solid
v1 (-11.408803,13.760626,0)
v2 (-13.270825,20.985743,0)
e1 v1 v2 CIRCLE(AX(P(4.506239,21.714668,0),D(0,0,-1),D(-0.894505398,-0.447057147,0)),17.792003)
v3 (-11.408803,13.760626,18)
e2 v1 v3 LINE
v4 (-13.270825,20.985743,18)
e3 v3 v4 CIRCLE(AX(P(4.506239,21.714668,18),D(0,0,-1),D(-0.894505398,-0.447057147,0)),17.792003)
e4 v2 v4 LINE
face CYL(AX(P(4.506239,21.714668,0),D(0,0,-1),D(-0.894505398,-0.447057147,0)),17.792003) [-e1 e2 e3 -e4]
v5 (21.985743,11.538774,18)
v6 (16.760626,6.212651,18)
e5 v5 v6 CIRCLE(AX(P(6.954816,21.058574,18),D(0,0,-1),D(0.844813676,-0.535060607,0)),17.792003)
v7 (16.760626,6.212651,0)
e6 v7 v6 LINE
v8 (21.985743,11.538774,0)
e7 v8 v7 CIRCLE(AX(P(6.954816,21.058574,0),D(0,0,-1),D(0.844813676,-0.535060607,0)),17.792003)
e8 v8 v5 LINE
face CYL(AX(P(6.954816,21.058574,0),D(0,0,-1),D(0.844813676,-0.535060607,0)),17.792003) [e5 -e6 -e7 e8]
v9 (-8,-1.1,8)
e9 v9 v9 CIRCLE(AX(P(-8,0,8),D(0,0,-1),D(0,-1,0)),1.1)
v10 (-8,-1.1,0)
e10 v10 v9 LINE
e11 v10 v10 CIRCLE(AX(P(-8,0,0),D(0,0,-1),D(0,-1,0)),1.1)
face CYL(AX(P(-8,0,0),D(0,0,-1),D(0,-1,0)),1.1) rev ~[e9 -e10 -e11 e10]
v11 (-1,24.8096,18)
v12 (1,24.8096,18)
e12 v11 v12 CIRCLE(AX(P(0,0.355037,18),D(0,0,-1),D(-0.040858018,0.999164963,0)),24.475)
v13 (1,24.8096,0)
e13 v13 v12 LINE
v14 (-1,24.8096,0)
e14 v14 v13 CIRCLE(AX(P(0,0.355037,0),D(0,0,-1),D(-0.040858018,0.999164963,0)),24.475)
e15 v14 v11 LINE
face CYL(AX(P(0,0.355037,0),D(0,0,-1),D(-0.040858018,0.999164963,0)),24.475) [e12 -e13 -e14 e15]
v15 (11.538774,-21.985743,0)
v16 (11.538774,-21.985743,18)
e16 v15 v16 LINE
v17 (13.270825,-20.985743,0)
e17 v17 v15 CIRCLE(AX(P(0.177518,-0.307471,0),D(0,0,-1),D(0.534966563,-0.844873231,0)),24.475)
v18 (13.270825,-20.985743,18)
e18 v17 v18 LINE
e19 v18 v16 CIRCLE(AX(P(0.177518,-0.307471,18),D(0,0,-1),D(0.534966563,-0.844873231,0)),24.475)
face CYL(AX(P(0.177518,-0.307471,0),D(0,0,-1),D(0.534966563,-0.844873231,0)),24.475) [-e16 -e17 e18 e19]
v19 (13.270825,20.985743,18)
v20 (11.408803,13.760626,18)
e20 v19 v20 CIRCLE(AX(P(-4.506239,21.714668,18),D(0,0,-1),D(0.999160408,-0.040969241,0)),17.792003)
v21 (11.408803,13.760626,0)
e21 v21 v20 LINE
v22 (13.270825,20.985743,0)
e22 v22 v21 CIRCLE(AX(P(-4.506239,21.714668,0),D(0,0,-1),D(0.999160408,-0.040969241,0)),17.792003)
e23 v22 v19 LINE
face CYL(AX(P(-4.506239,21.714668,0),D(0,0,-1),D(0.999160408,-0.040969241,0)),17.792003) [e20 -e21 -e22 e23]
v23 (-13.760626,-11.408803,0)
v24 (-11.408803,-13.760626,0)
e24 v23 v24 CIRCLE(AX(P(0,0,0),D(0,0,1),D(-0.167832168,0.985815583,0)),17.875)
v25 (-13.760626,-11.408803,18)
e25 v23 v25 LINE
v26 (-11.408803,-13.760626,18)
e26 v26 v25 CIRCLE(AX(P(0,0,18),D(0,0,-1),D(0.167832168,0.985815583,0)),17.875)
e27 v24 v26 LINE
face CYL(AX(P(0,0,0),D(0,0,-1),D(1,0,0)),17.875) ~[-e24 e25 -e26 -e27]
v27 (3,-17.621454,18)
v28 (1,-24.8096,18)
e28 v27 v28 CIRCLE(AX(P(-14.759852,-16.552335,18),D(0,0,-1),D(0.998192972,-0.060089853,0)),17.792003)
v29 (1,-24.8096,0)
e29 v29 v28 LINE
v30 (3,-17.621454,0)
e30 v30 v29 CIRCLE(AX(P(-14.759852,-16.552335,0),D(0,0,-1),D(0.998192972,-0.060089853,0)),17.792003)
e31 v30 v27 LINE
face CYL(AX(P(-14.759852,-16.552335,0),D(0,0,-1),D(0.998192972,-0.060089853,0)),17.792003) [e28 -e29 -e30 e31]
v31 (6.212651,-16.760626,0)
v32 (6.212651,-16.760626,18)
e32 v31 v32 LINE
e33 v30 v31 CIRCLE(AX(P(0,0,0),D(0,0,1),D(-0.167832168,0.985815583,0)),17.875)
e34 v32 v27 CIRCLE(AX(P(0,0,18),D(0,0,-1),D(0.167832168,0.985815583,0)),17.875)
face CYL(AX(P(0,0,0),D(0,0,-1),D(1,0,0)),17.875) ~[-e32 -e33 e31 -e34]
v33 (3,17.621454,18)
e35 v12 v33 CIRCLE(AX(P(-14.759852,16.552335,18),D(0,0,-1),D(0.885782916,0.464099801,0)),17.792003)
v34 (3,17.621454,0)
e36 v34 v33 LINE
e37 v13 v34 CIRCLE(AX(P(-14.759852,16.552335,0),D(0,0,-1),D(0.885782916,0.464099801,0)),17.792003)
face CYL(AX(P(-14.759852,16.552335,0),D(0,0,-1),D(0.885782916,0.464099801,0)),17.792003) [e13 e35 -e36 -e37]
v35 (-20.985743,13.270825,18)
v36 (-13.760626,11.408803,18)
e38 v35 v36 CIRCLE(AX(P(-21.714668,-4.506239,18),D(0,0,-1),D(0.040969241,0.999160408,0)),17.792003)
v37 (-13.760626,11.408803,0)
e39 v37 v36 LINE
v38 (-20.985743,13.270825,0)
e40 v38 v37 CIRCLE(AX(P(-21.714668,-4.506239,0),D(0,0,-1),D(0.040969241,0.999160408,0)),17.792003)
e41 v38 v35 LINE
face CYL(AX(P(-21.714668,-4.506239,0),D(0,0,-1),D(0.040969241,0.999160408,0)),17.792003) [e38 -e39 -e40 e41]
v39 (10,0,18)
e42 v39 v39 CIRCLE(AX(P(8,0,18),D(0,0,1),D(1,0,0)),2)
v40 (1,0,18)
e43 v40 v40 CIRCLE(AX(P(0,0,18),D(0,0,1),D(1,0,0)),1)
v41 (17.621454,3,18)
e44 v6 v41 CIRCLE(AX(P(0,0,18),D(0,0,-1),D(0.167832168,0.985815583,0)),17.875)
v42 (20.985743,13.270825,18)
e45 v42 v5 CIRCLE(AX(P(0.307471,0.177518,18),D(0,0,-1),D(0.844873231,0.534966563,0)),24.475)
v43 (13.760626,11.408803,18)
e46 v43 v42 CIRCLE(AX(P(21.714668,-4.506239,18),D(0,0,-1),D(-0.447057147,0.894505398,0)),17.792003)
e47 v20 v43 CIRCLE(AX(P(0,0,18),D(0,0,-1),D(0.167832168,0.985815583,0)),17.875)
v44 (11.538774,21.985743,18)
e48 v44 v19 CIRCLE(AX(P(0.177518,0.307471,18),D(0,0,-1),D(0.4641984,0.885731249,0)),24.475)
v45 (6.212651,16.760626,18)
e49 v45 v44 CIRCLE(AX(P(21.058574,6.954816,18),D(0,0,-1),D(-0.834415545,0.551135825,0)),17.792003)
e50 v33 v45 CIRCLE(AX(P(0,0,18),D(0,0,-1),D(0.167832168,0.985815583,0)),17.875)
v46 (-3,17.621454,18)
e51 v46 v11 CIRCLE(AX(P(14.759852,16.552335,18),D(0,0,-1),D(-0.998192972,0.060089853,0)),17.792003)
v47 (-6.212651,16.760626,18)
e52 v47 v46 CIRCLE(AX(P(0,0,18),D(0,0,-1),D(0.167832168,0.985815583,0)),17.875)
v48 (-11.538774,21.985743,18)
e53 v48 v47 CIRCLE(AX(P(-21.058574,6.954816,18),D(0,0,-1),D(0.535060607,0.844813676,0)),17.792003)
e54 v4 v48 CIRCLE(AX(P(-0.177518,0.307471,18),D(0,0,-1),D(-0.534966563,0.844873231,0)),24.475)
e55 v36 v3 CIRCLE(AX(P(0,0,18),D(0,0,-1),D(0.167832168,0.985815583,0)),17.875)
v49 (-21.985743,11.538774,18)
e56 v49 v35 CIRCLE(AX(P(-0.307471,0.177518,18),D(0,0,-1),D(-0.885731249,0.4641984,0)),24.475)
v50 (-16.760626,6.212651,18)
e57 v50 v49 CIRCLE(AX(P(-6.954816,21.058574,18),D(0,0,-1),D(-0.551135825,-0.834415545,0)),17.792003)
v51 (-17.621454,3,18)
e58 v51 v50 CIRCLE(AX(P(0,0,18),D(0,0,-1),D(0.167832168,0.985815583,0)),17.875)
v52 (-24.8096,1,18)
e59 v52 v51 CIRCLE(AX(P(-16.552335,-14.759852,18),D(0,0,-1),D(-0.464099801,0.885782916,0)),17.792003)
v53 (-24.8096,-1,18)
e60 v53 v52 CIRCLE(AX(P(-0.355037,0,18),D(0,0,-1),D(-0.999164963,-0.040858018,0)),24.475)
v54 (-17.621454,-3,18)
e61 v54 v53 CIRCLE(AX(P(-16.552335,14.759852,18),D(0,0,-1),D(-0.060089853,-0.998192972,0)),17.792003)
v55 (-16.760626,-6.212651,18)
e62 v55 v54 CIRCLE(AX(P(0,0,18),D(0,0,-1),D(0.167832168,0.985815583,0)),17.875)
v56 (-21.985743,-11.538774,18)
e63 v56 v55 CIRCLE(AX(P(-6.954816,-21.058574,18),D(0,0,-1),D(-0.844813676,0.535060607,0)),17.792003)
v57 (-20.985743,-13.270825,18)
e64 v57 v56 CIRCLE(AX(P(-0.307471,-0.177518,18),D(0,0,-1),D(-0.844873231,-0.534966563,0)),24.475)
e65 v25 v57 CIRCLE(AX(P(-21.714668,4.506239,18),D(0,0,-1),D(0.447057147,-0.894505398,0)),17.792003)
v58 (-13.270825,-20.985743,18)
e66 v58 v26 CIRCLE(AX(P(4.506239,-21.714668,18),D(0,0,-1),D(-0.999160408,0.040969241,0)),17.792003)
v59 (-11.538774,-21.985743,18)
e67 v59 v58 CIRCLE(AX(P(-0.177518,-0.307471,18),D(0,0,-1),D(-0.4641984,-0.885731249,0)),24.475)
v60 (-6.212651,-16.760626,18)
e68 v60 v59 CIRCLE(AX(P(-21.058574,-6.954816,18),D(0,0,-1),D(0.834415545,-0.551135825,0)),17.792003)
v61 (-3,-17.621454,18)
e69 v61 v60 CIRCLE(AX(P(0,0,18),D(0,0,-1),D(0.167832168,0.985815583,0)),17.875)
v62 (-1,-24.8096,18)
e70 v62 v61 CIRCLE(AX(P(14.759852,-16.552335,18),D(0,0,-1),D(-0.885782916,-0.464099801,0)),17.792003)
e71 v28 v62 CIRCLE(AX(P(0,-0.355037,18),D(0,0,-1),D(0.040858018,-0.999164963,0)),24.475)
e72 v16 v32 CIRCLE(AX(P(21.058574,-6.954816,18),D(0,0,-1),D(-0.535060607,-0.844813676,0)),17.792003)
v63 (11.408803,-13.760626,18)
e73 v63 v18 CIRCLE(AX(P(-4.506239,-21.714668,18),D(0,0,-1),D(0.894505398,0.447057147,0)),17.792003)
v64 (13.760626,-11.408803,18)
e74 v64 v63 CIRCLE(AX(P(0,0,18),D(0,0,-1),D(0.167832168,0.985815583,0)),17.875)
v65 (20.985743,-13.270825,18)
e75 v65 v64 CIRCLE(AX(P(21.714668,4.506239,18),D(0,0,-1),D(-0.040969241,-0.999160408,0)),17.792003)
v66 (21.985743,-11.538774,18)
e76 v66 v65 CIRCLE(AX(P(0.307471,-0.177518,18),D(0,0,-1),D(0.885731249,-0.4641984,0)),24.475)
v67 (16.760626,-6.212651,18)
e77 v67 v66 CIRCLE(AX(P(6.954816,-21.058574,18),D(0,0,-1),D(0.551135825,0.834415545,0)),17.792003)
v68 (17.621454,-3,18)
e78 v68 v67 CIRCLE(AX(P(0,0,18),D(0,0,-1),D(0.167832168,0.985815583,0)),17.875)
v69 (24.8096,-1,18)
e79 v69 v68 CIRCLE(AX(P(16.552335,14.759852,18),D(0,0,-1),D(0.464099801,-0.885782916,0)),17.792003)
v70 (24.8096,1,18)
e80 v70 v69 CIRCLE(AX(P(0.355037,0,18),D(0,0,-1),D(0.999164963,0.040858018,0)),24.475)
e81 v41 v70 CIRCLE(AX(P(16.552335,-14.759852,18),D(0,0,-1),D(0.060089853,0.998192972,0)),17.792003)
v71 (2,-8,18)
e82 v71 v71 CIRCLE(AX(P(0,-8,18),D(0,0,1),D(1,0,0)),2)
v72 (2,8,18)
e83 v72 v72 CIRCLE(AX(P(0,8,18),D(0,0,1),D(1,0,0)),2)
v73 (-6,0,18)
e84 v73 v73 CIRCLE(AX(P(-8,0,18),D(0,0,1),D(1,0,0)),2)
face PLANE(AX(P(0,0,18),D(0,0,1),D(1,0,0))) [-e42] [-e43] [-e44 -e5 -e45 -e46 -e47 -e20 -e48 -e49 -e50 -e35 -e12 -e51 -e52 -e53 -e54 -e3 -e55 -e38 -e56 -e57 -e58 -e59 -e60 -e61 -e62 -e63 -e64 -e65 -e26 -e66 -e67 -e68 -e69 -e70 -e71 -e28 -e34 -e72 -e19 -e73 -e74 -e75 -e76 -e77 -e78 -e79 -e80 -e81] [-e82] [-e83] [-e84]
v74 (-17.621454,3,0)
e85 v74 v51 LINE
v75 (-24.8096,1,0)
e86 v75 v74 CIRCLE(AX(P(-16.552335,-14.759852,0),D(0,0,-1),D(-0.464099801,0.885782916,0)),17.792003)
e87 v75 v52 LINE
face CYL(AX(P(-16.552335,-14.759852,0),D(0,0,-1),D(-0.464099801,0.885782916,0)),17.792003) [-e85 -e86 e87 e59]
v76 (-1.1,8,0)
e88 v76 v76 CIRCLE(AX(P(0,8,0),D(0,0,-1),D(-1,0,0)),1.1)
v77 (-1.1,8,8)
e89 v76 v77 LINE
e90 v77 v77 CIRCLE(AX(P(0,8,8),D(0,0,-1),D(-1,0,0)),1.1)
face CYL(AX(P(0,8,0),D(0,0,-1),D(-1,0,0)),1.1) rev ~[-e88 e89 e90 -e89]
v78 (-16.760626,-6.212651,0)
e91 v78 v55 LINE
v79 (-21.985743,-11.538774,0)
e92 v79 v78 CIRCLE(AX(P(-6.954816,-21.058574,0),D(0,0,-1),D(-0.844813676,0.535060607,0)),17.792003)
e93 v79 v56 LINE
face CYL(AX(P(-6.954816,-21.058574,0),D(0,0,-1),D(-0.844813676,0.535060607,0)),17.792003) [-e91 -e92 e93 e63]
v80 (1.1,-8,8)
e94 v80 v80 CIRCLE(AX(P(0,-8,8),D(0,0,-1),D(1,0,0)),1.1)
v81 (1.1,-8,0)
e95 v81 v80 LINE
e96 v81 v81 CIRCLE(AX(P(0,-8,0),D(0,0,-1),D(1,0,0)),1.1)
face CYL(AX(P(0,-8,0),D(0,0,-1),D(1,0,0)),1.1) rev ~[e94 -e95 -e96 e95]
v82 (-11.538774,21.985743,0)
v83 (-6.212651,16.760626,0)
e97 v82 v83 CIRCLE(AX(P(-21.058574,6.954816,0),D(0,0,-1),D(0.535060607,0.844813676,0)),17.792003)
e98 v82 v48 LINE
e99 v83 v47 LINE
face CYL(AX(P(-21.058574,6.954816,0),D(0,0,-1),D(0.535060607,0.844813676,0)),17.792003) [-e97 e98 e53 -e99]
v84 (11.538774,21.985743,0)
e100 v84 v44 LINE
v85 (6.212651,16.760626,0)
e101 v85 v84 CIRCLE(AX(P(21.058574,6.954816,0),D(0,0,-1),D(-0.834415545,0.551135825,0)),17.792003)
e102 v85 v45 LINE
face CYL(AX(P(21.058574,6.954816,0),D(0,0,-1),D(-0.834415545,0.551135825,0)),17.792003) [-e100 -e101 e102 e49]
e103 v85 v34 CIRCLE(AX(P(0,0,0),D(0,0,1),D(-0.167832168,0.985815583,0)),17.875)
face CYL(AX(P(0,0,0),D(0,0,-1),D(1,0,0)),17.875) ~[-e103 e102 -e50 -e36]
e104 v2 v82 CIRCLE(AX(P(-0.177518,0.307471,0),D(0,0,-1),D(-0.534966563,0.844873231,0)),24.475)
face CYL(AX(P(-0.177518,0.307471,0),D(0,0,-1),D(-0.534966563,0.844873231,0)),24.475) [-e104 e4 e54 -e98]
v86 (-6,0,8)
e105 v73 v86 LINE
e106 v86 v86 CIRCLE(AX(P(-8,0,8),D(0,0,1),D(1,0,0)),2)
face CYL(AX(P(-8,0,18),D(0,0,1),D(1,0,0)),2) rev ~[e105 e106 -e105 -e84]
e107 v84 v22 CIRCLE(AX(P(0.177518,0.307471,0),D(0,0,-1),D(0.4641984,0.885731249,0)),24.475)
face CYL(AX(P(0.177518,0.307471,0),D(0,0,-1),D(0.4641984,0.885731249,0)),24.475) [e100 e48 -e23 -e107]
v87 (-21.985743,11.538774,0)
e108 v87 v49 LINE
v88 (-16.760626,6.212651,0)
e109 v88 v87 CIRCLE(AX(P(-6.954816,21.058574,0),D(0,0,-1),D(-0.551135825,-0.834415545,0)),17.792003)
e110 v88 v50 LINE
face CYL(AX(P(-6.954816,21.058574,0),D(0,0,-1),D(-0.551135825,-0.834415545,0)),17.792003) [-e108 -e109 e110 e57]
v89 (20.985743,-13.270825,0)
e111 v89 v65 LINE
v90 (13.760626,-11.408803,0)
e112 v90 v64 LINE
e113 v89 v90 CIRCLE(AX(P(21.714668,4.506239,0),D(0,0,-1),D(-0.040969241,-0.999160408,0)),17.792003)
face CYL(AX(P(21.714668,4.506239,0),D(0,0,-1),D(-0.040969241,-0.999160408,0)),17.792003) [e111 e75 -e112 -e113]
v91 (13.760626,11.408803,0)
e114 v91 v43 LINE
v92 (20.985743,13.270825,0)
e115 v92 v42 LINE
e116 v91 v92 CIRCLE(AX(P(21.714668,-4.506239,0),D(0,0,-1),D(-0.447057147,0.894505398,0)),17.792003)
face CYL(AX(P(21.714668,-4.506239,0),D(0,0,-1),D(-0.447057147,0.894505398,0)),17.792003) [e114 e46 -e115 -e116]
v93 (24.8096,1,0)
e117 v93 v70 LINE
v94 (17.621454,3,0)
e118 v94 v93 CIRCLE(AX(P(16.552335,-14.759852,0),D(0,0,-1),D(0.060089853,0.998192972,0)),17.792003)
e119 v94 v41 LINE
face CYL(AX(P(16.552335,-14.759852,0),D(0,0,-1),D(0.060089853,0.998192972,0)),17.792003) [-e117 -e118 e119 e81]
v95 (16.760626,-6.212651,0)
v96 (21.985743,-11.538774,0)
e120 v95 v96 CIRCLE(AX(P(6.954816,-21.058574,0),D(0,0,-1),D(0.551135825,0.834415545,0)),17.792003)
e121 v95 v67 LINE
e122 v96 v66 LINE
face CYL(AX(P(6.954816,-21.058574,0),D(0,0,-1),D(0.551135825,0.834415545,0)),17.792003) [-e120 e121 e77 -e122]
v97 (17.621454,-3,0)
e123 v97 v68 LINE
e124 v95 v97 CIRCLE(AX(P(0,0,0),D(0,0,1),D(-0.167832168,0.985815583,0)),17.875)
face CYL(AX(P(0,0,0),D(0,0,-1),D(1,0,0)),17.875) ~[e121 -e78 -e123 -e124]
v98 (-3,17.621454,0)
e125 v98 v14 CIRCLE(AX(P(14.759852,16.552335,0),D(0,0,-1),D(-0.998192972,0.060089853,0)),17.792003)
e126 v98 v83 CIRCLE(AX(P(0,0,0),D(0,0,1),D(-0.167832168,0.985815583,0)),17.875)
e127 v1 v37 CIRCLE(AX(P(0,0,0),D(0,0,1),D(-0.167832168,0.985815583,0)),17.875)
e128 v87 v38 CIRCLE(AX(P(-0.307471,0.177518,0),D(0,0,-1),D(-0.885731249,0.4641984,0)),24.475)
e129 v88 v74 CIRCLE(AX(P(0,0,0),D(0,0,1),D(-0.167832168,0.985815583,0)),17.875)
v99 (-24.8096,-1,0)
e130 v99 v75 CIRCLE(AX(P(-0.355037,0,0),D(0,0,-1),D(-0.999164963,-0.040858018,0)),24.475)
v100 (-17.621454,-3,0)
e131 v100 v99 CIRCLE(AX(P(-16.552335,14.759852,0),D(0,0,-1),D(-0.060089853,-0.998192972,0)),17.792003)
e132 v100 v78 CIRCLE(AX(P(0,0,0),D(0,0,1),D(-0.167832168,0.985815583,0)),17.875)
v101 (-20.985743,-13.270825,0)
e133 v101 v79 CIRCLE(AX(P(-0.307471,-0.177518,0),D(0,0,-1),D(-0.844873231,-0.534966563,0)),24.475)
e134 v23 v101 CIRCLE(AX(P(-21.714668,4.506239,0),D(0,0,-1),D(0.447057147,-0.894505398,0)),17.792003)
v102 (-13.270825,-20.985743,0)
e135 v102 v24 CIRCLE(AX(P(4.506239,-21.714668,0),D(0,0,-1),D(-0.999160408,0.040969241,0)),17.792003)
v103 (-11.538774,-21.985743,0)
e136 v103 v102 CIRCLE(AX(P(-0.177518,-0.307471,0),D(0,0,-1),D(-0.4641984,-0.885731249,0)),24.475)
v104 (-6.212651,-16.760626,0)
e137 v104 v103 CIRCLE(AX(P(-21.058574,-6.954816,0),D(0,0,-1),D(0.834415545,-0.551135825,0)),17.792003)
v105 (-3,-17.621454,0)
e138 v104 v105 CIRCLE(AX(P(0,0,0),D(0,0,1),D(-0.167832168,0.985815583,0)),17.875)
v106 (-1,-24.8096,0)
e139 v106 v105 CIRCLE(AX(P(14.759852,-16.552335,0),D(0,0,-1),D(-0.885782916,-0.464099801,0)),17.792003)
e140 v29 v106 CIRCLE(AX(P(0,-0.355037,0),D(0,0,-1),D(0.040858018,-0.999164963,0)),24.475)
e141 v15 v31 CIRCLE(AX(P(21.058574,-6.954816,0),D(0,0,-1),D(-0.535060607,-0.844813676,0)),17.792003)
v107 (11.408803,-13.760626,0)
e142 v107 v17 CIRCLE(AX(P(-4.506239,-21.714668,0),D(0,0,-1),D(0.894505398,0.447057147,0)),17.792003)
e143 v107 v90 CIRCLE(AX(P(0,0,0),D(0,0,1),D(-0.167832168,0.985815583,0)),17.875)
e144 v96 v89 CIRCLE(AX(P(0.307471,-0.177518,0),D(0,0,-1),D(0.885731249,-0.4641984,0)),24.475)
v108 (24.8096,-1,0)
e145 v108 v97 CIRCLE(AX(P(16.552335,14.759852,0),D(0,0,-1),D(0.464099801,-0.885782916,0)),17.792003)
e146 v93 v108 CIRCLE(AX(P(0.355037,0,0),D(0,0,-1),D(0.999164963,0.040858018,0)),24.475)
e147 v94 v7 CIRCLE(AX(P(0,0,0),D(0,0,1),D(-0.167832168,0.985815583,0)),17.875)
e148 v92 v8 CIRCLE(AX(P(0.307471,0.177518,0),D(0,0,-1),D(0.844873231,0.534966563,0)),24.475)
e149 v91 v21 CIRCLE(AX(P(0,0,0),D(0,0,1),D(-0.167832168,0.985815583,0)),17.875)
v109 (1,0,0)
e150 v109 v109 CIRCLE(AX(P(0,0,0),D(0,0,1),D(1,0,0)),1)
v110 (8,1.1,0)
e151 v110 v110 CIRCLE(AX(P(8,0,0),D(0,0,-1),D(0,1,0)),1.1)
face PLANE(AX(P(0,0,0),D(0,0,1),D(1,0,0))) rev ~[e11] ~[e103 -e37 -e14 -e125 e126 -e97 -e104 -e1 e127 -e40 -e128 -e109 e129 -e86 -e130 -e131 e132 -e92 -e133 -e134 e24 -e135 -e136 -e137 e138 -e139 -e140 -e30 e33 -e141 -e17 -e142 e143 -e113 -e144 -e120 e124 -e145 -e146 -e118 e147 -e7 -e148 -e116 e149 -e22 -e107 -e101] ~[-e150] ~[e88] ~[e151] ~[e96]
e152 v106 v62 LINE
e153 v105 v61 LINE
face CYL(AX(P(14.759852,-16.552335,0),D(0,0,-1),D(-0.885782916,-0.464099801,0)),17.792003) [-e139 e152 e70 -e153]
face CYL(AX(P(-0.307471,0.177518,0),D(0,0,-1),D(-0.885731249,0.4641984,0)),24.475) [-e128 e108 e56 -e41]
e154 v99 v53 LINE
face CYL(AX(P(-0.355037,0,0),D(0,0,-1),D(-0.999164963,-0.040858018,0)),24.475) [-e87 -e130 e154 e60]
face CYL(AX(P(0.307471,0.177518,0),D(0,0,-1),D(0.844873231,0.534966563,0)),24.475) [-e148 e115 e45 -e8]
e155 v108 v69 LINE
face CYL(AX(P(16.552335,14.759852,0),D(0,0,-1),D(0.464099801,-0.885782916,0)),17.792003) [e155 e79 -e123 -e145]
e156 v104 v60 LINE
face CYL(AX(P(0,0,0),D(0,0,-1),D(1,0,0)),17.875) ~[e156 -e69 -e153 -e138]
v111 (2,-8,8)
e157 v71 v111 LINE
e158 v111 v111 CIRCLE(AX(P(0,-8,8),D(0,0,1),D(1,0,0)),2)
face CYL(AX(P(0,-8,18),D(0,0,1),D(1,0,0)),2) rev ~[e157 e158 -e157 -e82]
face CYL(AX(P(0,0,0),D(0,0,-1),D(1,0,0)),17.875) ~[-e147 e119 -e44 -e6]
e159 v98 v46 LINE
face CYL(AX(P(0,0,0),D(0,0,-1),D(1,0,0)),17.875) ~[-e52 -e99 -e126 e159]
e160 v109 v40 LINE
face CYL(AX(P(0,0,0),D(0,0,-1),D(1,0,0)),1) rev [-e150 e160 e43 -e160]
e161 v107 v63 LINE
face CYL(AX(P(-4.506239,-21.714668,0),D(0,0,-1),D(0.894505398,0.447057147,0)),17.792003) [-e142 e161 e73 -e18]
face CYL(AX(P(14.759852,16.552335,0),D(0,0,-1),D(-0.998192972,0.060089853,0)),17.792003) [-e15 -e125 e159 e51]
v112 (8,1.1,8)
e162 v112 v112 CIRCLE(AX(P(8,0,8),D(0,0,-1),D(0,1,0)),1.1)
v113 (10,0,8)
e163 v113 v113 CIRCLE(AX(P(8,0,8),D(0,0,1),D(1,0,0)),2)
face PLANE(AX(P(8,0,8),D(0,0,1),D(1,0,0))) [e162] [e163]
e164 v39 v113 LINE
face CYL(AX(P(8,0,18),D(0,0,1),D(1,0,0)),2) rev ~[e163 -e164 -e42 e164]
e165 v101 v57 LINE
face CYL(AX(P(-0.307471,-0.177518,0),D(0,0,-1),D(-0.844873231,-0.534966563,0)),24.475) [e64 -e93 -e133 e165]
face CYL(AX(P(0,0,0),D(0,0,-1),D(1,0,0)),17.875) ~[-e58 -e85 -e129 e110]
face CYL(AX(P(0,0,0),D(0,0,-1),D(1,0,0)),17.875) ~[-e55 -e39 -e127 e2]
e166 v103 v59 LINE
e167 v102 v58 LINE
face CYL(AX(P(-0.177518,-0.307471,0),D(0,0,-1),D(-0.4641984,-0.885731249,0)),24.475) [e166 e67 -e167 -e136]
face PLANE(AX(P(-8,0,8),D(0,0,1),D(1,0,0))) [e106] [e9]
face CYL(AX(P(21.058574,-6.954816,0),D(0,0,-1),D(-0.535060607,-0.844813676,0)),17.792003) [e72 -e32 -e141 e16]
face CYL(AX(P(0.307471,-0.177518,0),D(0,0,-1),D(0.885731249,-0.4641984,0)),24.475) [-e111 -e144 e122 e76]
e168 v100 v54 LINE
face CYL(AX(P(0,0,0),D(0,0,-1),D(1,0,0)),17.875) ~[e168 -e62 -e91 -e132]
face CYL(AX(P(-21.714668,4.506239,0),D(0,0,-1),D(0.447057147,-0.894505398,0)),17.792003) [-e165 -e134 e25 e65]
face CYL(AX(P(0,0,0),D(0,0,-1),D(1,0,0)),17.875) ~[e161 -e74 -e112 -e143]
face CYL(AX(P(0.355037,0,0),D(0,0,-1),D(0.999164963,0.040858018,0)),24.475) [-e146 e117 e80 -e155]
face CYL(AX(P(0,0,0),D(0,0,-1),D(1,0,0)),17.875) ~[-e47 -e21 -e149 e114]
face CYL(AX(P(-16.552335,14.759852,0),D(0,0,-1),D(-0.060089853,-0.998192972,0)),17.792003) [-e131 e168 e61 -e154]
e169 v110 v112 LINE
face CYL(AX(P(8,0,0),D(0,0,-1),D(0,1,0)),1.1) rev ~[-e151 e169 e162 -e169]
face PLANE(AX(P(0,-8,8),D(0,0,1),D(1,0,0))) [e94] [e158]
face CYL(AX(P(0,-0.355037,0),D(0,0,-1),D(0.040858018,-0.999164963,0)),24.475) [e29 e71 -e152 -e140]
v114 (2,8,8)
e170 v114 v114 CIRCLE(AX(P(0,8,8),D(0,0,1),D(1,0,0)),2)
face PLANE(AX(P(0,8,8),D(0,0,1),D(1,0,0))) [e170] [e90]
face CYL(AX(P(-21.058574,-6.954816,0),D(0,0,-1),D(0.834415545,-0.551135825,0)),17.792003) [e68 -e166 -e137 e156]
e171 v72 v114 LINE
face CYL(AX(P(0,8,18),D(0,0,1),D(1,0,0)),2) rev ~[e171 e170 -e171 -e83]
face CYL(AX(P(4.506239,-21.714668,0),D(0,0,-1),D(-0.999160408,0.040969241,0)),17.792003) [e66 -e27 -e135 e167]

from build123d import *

# Parameters (mm, degrees)
EXTRUDE_1_DEPTH          = 18
SKETCH_2_R               = 17.875
SKETCH_2_R_2             = 1
EXTRUDE_2_DEPTH          = 18
PATTERN_CIRCULAR_3_COUNT = 12
SKETCH_3_R               = 1.1
CUT_EXTRUDE_1_DEPTH      = 19
PATTERN_CIRCULAR_4_COUNT = 4
SKETCH_4_R               = 2
CUT_EXTRUDE_2_DEPTH      = 10


with BuildPart() as part:
    # 草图1 → 凸台-拉伸1 (new body)
    with BuildSketch(Plane.XY):
        with BuildLine():
            ThreePointArc((3, 17.621453544), (0, 17.875), (-3, 17.621453544))
            ThreePointArc((-3, 17.621453544), (-2.381034791, 21.321544102), (-1, 24.809599575))
            ThreePointArc((-1, 24.809599575), (0, 24.830037117), (1, 24.809599575))
            ThreePointArc((1, 24.809599575), (2.381034791, 21.321544102), (3, 17.621453544))
        make_face()
    extrude_1 = extrude(amount=EXTRUDE_1_DEPTH)

    # 草图2 → 凸台-拉伸2 (add)
    with BuildSketch(Plane.XY):
        Circle(SKETCH_2_R)
        Circle(SKETCH_2_R_2, mode=Mode.SUBTRACT)
    extrude(amount=EXTRUDE_2_DEPTH)

    # 阵列(圆周)3: 凸台-拉伸1 ×12 about axis
    pattern_circular_3_axis = Axis((0, 0, 0), (0, 0, 1))
    for i in range(1, PATTERN_CIRCULAR_3_COUNT):
        add(extrude_1.rotate(pattern_circular_3_axis, i * 360 / PATTERN_CIRCULAR_3_COUNT))

    # 草图3 → 切除-拉伸1 (cut, through all)
    with BuildSketch(Plane(origin=(0, 0, 0), x_dir=(-1, 0, 0), z_dir=(0, 0, -1))):
        with Locations((0, 8)):
            Circle(SKETCH_3_R)
    cut_extrude_1 = extrude(amount=-CUT_EXTRUDE_1_DEPTH, mode=Mode.SUBTRACT)

    # 阵列(圆周)4: 切除-拉伸1 ×4 about axis
    pattern_circular_4_axis = Axis((0, 0, 0), (0, 0, 1))
    for i in range(1, PATTERN_CIRCULAR_4_COUNT):
        add(cut_extrude_1.rotate(pattern_circular_4_axis, i * 360 / PATTERN_CIRCULAR_4_COUNT), mode=Mode.SUBTRACT)

    # 草图4 → 切除-拉伸2 (cut)
    with BuildSketch(Plane.XY.offset(18)):
        with Locations((0, 8)):
            Circle(SKETCH_4_R)
        with Locations((8, 0)):
            Circle(SKETCH_4_R)
        with Locations((0, -8)):
            Circle(SKETCH_4_R)
        with Locations((-8, 0)):
            Circle(SKETCH_4_R)
    extrude(amount=-CUT_EXTRUDE_2_DEPTH, mode=Mode.SUBTRACT)


solid = part.part
